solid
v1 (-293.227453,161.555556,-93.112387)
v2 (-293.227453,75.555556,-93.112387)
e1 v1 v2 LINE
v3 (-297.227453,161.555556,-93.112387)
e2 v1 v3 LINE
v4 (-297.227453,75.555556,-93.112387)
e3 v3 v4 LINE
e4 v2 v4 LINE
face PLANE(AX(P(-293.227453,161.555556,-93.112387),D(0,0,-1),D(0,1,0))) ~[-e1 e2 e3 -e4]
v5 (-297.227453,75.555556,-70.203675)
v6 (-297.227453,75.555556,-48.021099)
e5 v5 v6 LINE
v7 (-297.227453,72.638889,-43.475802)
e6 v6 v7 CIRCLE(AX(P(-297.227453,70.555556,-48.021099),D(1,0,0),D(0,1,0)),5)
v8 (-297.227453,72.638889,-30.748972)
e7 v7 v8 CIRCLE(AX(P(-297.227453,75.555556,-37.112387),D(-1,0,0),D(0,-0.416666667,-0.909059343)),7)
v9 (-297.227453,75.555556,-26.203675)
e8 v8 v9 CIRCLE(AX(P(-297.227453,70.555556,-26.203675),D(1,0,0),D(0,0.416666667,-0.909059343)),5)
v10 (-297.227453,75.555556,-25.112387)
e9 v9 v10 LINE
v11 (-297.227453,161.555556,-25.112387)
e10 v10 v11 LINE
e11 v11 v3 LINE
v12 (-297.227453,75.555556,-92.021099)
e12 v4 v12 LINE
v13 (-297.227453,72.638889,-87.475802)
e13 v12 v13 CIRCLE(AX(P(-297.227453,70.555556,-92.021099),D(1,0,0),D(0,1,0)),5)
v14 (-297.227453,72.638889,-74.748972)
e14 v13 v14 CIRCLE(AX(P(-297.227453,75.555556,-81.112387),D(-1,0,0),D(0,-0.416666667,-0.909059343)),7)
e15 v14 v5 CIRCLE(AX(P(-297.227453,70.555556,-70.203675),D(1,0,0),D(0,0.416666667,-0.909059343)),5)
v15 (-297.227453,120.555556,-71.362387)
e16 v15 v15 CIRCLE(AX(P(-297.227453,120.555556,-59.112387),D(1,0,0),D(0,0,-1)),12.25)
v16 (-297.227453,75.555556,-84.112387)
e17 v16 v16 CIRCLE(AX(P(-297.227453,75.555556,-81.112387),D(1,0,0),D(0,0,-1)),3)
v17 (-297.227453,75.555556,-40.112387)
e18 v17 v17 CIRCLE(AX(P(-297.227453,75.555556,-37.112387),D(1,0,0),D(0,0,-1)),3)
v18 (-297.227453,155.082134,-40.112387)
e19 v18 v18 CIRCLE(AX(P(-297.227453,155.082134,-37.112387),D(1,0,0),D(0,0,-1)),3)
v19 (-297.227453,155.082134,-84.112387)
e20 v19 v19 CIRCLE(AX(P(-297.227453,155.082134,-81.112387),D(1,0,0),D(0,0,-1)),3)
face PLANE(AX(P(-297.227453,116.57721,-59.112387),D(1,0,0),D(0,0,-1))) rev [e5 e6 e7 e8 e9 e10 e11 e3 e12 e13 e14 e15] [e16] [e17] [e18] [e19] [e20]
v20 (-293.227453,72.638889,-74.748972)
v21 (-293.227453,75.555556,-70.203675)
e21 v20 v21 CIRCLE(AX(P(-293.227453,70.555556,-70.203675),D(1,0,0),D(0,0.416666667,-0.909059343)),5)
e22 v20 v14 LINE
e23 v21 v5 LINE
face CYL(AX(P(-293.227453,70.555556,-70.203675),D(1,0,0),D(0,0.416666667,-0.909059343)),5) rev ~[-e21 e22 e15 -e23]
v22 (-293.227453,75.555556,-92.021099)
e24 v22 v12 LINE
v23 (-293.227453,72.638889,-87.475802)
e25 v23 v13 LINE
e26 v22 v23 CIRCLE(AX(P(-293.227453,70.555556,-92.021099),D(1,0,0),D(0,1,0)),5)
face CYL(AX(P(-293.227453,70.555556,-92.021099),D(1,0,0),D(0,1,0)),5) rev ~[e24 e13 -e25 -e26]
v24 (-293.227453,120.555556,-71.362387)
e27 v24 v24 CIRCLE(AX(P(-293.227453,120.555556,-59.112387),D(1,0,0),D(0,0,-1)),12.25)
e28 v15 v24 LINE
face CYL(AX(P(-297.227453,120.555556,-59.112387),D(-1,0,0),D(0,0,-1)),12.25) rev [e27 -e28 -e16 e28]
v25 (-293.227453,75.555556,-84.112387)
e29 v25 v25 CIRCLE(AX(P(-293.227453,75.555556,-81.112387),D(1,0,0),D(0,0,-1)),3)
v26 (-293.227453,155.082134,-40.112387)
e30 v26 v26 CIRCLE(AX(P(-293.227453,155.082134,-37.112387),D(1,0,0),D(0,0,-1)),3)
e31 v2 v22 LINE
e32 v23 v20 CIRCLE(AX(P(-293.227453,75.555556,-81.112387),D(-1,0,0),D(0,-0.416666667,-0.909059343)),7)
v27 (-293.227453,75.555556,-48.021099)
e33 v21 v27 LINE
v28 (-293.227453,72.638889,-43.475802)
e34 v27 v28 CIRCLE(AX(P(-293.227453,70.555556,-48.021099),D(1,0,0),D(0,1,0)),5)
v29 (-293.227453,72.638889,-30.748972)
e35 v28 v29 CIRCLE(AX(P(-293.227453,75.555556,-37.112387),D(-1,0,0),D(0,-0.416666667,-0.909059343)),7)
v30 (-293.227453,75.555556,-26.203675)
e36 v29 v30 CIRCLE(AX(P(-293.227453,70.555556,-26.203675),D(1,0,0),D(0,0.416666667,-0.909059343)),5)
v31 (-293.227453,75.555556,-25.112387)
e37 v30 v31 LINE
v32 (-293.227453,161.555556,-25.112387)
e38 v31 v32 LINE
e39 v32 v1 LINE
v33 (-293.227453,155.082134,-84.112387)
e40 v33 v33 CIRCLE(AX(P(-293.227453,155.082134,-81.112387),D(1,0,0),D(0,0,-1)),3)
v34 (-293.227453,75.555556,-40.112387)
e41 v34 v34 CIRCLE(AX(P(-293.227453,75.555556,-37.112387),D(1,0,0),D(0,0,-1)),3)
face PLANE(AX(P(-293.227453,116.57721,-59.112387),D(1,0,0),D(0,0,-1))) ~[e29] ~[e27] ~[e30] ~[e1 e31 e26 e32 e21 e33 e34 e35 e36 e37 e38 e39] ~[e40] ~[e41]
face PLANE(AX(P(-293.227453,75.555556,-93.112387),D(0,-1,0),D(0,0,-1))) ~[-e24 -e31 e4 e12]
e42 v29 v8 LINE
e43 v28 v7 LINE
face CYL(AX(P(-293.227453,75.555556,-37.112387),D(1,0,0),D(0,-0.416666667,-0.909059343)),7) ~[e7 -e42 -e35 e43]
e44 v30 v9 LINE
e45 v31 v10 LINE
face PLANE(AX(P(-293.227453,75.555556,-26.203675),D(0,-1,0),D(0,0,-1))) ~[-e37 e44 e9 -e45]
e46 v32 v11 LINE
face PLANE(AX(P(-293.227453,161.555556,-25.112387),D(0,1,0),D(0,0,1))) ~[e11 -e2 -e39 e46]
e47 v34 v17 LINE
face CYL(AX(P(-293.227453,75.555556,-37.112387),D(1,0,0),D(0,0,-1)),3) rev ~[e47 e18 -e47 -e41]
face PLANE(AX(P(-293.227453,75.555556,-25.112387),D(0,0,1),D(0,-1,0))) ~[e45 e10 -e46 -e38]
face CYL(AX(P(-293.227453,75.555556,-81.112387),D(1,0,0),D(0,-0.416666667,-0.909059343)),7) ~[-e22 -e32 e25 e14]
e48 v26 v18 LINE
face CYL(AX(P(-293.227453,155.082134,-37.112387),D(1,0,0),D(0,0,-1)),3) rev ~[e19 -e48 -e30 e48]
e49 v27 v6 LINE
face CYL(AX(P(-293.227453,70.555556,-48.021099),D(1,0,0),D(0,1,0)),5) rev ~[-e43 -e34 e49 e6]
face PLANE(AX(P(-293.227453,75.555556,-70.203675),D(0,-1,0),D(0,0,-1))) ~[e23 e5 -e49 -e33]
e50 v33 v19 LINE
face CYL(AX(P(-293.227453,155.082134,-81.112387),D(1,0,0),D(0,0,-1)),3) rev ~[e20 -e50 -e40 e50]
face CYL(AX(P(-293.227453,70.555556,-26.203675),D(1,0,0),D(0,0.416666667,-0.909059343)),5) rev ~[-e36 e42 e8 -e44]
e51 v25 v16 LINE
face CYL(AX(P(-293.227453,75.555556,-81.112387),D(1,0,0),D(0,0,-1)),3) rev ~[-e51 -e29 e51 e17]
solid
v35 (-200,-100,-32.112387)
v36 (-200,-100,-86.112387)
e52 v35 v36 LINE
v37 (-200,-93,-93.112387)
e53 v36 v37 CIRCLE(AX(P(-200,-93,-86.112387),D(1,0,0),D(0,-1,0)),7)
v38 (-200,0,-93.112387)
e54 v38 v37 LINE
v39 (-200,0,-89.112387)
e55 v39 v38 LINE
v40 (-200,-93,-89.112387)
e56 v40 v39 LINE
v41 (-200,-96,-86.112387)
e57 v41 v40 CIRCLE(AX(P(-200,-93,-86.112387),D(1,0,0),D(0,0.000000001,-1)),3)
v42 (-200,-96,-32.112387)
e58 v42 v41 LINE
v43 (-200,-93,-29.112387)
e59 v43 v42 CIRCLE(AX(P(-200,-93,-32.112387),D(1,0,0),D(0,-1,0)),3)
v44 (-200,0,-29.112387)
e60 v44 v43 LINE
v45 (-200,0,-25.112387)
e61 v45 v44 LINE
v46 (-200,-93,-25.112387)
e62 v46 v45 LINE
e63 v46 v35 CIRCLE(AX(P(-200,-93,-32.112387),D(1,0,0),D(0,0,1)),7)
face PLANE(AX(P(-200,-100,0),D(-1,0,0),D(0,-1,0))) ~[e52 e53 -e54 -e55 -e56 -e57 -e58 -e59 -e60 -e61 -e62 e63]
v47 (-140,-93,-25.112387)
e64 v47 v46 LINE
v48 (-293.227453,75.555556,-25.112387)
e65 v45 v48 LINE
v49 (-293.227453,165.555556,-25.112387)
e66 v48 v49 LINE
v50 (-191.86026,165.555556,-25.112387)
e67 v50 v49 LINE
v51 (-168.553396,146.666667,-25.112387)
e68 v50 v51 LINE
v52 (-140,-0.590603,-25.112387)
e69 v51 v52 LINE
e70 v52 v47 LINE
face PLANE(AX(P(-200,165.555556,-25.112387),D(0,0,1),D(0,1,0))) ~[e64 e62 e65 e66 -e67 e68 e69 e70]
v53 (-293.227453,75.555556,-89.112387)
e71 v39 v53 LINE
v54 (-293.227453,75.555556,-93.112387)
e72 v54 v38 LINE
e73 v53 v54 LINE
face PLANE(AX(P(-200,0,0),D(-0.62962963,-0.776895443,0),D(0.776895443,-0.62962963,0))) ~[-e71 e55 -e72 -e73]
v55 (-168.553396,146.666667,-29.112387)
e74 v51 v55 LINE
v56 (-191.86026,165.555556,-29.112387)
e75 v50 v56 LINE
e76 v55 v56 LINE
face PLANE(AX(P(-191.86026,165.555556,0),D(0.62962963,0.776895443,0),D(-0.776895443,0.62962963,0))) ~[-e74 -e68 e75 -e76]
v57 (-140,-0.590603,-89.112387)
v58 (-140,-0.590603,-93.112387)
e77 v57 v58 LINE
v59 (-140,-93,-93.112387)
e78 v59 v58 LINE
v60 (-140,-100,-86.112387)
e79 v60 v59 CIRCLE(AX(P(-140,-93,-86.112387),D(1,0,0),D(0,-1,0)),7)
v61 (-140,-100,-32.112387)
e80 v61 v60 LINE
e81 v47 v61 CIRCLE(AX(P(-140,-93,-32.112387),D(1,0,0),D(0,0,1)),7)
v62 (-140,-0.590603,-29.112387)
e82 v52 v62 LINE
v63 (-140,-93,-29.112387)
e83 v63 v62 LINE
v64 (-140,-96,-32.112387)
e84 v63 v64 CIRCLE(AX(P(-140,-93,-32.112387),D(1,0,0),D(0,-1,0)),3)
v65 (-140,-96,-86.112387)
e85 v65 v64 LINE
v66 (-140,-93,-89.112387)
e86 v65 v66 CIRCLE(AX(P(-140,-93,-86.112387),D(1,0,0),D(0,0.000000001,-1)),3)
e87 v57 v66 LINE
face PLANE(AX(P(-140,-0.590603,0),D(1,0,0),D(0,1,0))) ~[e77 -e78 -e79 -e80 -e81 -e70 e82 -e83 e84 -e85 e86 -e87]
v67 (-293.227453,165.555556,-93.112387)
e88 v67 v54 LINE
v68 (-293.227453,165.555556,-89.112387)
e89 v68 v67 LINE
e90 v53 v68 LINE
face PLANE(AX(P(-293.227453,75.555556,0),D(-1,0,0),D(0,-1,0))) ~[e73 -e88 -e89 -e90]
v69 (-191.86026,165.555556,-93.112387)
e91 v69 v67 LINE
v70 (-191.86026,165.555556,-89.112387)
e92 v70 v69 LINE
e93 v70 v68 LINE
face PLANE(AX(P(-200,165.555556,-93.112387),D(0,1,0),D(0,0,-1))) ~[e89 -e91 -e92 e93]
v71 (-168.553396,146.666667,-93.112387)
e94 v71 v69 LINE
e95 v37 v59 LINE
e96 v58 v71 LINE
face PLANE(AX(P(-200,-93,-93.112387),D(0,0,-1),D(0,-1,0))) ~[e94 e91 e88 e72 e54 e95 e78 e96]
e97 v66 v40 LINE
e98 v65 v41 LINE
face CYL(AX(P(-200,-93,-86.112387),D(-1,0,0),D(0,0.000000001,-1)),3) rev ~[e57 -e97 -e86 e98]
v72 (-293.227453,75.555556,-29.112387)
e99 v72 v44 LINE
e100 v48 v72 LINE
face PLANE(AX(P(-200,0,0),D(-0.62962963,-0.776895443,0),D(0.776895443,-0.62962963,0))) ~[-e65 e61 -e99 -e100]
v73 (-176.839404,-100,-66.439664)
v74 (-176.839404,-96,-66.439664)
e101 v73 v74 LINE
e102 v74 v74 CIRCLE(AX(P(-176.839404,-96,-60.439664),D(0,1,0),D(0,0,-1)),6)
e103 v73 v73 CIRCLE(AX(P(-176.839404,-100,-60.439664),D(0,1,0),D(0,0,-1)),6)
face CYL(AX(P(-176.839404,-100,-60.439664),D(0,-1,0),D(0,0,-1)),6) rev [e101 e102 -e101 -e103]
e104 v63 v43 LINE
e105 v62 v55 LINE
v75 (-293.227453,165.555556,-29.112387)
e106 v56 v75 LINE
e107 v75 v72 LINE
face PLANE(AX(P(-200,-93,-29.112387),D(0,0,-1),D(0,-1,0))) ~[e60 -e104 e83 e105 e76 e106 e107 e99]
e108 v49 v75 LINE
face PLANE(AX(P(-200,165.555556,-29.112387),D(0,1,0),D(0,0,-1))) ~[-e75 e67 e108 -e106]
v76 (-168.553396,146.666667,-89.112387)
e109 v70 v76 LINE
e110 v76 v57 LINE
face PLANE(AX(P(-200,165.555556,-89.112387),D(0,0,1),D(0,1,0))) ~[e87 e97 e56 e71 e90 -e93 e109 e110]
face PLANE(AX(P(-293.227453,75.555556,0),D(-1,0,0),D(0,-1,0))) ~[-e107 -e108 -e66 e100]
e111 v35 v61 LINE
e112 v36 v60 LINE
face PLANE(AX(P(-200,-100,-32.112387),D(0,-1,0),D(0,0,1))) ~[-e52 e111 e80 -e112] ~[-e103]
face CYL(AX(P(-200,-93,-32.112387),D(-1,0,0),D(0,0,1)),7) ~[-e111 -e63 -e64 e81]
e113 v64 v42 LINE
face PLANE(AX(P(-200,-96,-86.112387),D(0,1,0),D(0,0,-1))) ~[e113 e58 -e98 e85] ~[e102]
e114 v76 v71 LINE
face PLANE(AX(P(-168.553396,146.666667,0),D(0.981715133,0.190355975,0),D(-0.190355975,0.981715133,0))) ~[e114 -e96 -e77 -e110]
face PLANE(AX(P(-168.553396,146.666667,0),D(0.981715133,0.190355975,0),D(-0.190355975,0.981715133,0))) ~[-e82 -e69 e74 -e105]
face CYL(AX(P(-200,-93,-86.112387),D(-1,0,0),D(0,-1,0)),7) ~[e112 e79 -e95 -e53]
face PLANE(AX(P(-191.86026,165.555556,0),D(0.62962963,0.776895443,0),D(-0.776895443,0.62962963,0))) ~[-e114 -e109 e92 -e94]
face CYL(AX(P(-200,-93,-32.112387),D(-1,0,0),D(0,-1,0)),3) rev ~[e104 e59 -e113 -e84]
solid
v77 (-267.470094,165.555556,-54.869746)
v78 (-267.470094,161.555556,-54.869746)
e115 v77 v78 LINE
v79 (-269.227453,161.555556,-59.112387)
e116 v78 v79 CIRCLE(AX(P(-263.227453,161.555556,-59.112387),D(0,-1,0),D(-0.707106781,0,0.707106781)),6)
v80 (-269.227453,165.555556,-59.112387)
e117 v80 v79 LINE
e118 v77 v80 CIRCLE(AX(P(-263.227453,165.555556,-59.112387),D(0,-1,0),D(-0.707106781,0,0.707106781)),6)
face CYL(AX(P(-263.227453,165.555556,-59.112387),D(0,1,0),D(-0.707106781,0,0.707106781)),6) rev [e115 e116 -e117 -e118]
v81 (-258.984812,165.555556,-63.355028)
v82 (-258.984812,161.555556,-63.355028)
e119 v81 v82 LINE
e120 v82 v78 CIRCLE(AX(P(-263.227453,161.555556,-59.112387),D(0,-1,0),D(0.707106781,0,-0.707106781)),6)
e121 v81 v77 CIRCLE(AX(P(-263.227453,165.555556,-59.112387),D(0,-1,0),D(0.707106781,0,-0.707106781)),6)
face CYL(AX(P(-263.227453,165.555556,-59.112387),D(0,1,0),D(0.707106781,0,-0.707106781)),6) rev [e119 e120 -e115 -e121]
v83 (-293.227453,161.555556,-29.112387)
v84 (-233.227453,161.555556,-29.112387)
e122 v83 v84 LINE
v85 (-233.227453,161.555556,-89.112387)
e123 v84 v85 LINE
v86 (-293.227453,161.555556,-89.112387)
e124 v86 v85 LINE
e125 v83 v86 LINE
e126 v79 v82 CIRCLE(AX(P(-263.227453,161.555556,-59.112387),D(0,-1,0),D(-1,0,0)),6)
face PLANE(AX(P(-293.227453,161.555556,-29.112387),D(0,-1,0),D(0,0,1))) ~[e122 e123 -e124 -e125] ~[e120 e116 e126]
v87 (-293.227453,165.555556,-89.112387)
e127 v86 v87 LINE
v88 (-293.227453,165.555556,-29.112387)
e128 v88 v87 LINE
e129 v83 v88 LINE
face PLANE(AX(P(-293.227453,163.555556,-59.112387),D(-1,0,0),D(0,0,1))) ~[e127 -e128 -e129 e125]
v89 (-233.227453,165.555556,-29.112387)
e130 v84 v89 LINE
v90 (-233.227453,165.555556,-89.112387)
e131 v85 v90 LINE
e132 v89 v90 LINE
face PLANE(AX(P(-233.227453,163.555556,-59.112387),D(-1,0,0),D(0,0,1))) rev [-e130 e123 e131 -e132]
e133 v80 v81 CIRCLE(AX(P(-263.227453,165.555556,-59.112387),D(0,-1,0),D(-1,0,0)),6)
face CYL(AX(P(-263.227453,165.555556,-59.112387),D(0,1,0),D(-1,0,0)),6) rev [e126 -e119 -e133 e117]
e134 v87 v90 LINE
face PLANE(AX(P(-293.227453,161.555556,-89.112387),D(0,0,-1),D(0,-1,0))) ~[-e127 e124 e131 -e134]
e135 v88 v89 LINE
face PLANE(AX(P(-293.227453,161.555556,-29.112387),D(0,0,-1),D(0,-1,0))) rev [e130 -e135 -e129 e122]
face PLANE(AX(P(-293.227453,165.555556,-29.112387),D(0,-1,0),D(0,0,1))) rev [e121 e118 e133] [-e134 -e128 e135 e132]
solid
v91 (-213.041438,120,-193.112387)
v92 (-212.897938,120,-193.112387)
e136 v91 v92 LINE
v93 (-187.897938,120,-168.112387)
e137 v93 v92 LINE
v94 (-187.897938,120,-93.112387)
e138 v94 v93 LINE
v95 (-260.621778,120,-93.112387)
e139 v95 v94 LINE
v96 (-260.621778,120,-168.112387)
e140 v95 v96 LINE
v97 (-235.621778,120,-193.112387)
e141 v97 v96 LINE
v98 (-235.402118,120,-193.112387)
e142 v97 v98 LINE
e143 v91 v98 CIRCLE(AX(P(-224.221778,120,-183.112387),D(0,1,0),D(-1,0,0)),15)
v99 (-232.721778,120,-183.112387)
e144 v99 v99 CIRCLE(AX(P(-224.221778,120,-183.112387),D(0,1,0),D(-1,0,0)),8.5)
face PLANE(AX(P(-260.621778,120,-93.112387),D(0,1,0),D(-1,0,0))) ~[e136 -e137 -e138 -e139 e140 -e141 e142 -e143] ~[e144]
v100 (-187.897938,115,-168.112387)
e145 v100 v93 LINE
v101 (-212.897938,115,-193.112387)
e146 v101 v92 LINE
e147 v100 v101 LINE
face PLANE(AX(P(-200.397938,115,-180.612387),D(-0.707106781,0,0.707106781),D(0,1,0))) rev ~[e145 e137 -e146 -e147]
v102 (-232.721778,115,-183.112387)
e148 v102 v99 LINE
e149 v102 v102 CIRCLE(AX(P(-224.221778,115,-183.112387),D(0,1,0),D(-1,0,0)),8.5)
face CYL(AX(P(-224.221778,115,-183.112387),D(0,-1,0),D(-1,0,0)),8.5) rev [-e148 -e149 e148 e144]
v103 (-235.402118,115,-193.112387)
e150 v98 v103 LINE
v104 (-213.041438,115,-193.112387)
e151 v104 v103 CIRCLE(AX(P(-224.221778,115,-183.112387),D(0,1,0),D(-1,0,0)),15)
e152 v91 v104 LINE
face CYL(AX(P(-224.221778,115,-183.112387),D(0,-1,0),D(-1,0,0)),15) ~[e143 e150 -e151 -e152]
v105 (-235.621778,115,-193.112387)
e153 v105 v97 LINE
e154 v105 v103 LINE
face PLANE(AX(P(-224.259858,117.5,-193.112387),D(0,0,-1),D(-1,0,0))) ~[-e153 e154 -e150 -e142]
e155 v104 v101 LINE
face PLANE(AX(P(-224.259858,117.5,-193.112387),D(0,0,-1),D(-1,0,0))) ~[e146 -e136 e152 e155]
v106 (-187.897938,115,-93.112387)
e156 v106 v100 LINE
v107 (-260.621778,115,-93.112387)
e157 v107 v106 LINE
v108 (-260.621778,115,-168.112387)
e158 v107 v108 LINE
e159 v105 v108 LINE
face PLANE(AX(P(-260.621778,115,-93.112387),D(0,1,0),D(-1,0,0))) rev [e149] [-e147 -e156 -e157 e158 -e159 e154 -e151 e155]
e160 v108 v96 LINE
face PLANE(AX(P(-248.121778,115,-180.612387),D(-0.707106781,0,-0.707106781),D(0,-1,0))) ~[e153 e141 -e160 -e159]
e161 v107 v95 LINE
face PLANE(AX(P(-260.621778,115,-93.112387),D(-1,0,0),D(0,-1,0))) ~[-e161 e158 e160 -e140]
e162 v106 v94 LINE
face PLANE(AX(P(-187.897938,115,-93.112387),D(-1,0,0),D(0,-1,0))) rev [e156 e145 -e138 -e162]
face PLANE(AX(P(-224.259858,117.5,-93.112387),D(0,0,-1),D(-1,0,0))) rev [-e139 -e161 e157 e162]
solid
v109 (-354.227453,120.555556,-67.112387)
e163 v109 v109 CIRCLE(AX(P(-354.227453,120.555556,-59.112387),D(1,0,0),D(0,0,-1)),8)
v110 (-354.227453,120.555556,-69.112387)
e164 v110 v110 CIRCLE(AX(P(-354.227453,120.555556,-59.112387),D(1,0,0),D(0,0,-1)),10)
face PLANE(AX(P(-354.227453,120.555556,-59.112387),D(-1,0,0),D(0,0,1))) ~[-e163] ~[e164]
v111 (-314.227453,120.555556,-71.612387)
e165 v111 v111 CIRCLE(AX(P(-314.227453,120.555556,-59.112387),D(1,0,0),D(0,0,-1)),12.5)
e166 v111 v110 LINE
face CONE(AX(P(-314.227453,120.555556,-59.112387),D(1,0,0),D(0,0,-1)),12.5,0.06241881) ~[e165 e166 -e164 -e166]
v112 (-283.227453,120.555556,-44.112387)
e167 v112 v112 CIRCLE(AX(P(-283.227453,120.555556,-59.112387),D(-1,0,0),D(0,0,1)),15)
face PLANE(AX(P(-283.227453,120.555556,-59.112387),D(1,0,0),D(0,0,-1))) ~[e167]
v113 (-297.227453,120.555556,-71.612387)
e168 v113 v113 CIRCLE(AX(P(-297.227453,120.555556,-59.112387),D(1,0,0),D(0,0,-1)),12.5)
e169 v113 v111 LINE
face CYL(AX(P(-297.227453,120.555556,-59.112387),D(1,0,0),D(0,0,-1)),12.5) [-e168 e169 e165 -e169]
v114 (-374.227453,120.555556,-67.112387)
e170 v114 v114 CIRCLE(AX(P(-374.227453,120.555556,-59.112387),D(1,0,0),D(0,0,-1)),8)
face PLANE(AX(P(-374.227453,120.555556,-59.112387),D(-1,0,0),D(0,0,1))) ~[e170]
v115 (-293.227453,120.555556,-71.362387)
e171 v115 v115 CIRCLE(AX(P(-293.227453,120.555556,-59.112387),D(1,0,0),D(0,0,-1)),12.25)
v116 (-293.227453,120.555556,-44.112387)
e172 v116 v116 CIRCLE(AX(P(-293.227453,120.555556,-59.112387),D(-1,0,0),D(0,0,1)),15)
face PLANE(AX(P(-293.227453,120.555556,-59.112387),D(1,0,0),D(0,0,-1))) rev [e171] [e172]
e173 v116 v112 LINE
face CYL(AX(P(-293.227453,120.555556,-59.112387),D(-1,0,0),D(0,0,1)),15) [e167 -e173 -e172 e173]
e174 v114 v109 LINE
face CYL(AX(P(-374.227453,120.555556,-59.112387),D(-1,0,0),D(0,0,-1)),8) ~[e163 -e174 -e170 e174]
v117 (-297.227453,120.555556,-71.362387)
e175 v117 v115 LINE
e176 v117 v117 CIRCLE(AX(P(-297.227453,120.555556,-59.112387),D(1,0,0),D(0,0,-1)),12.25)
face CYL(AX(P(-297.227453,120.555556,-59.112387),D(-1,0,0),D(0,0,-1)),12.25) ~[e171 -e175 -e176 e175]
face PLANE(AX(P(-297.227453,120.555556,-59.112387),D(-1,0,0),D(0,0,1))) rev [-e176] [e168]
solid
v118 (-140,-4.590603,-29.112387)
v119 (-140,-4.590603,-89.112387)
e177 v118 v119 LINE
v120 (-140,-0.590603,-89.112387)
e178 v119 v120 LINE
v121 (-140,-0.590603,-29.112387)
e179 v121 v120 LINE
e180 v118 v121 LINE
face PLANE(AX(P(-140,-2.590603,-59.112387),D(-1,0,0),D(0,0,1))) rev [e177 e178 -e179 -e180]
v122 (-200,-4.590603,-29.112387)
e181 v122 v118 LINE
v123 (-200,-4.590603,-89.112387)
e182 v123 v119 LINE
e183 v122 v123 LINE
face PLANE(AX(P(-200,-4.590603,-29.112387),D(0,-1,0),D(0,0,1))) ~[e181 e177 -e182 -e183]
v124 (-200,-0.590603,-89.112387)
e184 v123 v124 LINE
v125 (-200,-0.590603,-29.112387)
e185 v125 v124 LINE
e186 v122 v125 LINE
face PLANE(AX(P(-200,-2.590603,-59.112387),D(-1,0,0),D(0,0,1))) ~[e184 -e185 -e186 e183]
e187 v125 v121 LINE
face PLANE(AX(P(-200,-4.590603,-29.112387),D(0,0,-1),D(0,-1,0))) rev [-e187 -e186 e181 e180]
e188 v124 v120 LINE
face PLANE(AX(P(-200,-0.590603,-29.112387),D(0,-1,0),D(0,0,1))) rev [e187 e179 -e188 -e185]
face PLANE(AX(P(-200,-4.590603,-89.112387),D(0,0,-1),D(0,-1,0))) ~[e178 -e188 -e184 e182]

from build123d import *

# Parameters (mm, degrees)
BOSS_EXTRUDE2_DEPTH  = 107
CUT_EXTRUDE1_DEPTH   = 214
SKETCH5_W            = 60
SKETCH5_H            = 4
BOSS_EXTRUDE3_DEPTH  = 60
SKETCH6_W            = 60
SKETCH6_H            = 4
BOSS_EXTRUDE4_DEPTH  = 60
SKETCH7_R            = 3
BOSS_EXTRUDE5_DEPTH  = 4
SKETCH8_W            = 72.723840611
SKETCH8_H            = 5
BOSS_EXTRUDE6_DEPTH  = 100
CHAMFER1_SIZE        = 25
CHAMFER2_SIZE        = 25
SKETCH9_R            = 15
BOSS_EXTRUDE7_DEPTH  = 5
SKETCH10_R           = 12.25
CUT_EXTRUDE2_DEPTH   = 4
CUT_EXTRUDE5_DEPTH   = 8
SKETCH13_R           = 6
CUT_EXTRUDE6_DEPTH   = 10
SKETCH15_R           = 15
BOSS_EXTRUDE8_DEPTH  = 10
SKETCH16_R           = 12.25
BOSS_EXTRUDE9_DEPTH  = 10
SKETCH17_R           = 12.5
BOSS_EXTRUDE10_DEPTH = 77
SKETCH18_R           = 12.5
SKETCH18_R_2         = 8
CUT_EXTRUDE7_DEPTH   = 20
CHAMFER3_SIZE        = 40
CHAMFER3_SIZE2       = 2.5
SKETCH19_R           = 8.5
CUT_EXTRUDE8_DEPTH   = 20


with BuildPart() as part:
    # Sketch3 → Boss-Extrude2 (new, symmetric)
    with BuildSketch(Plane(origin=(0, 0, 0), x_dir=(0, 0, -1), z_dir=(1, 0, 0))):
        with BuildLine():
            Line((93.112387021, -93), (93.112387021, 165.555555556))
            Line((93.112387021, 165.555555556), (89.112387021, 165.555555556))
            Line((89.112387021, 165.555555556), (89.112387021, -93))
            ThreePointArc((89.112387021, -93), (88.233707365, -95.121320344), (86.112387021, -96))
            Line((86.112387021, -96), (32.112387021, -96))
            ThreePointArc((32.112387021, -96), (29.991066678, -95.121320344), (29.112387021, -93))
            Line((29.112387021, -93), (29.112387021, 165.555555556))
            Line((29.112387021, 165.555555556), (25.112387021, 165.555555556))
            Line((25.112387021, 165.555555556), (25.112387021, -93))
            ThreePointArc((25.112387021, -93), (27.162639553, -97.949747468), (32.112387021, -100))
            Line((32.112387021, -100), (86.112387021, -100))
            ThreePointArc((86.112387021, -100), (91.06213449, -97.949747468), (93.112387021, -93))
        make_face()
    extrude(amount=BOSS_EXTRUDE2_DEPTH, both=True)

    # Sketch4 → Cut-Extrude1 (cut)
    with BuildSketch(Plane.XY):
        Polygon((-190, 11.896699378), (-190, -230), (130, -230), (130, -61.975068301), (223.227453171, 13.580487255), (223.227453171, 295.555555556), (-54.204269584, 295.555555556), (-150.061773181, 217.868493514), align=None)
        Polygon((-60, -0.59060332), (-60, -100), (0, -100), (0, 0), (93.227453171, 75.555555556), (93.227453171, 165.555555556), (-8.139740481, 165.555555556), (-31.446603774, 146.666666667), align=None, mode=Mode.SUBTRACT)
    extrude(amount=-CUT_EXTRUDE1_DEPTH, mode=Mode.SUBTRACT)

    # Sketch13 → Cut-Extrude6 (cut)
    with BuildSketch(Plane.XZ.offset(100)):
        with Locations(Location((-23.160596036, -60.439663785, 0), (0, 0, 270))):
            Circle(SKETCH13_R)
    extrude(amount=-CUT_EXTRUDE6_DEPTH, mode=Mode.SUBTRACT)


with BuildPart() as body_2:
    # Sketch5 → Boss-Extrude3 (new body)
    with BuildSketch(Plane(origin=(0, 0, 0), x_dir=(0, 0, -1), z_dir=(1, 0, 0))):
        with Locations((59.112387021, -2.59060332)):
            Rectangle(SKETCH5_W, SKETCH5_H)
    extrude(amount=-BOSS_EXTRUDE3_DEPTH)


with BuildPart() as body_3:
    # Sketch6 → Boss-Extrude4 (new body)
    with BuildSketch(Plane(origin=(93.227453171, 0, 0), x_dir=(0, 0, -1), z_dir=(1, 0, 0))):
        with Locations((59.112387021, 163.555555556)):
            Rectangle(SKETCH6_W, SKETCH6_H)
    extrude(amount=-BOSS_EXTRUDE4_DEPTH)

    # Sketch12 → Cut-Extrude5 (cut)
    with BuildSketch(Plane(origin=(0, 165.555555556, 0), x_dir=(1, 0, 0), z_dir=(0, 1, 0))):
        with BuildLine():
            ThreePointArc((69.227453171, 59.112387021), (65.523553765, 64.655664216), (58.984812484, 63.355027708))
            Line((58.984812484, 63.355027708), (67.470093858, 54.869746334))
            ThreePointArc((67.470093858, 54.869746334), (68.770730366, 56.816286427), (69.227453171, 59.112387021))
        make_face()
        with BuildLine():
            Line((67.470093858, 54.869746334), (58.984812484, 63.355027708))
            ThreePointArc((58.984812484, 63.355027708), (58.984812484, 54.869746334), (67.470093858, 54.869746334))
        make_face()
    extrude(amount=-CUT_EXTRUDE5_DEPTH, mode=Mode.SUBTRACT)


with BuildPart() as body_4:
    # Sketch7 → Boss-Extrude5 (new body)
    with BuildSketch(Plane(origin=(93.227453171, 0, 0), x_dir=(0, 0, -1), z_dir=(1, 0, 0))):
        with BuildLine():
            Line((25.112387021, 161.555555556), (93.112387021, 161.555555556))
            Line((93.112387021, 161.555555556), (93.112387021, 75.555555556))
            Line((93.112387021, 75.555555556), (92.021099136, 75.555555556))
            ThreePointArc((92.021099136, 75.555555556), (89.320790512, 74.763682613), (87.475802422, 72.638888889))
            ThreePointArc((87.475802422, 72.638888889), (81.112387021, 68.555555556), (74.748971621, 72.638888889))
            ThreePointArc((74.748971621, 72.638888889), (72.903983531, 74.763682613), (70.203674907, 75.555555556))
            Line((70.203674907, 75.555555556), (48.021099136, 75.555555556))
            ThreePointArc((48.021099136, 75.555555556), (45.320790512, 74.763682613), (43.475802422, 72.638888889))
            ThreePointArc((43.475802422, 72.638888889), (37.112387021, 68.555555556), (30.748971621, 72.638888889))
            ThreePointArc((30.748971621, 72.638888889), (28.903983531, 74.763682613), (26.203674907, 75.555555556))
            Line((26.203674907, 75.555555556), (25.112387021, 75.555555556))
            Line((25.112387021, 75.555555556), (25.112387021, 161.555555556))
        make_face()
        with Locations((37.112387021, 155.082134103)):
            Circle(SKETCH7_R, mode=Mode.SUBTRACT)
        with Locations((81.112387021, 155.082134103)):
            Circle(SKETCH7_R, mode=Mode.SUBTRACT)
        with Locations((37.112387021, 75.555555556)):
            Circle(SKETCH7_R, mode=Mode.SUBTRACT)
        with Locations((81.112387021, 75.555555556)):
            Circle(SKETCH7_R, mode=Mode.SUBTRACT)
    extrude(amount=BOSS_EXTRUDE5_DEPTH)

    # Sketch10 → Cut-Extrude2 (cut)
    with BuildSketch(Plane(origin=(97.227453171, 0, 0), x_dir=(0, 0, -1), z_dir=(1, 0, 0))):
        with Locations((59.112387021, 120.555555556)):
            Circle(SKETCH10_R)
    extrude(amount=-CUT_EXTRUDE2_DEPTH, mode=Mode.SUBTRACT)


with BuildPart() as body_5:
    # Sketch8 → Boss-Extrude6 (new body)
    with BuildSketch(Plane(origin=(0, 0, -93.112387021), x_dir=(-1, 0, 0), z_dir=(0, 0, -1))):
        with Locations((-24.25985796, 117.5)):
            Rectangle(SKETCH8_W, SKETCH8_H)
    extrude(amount=BOSS_EXTRUDE6_DEPTH)

    # Chamfer1
    chamfer1_edges = [body_5.edges().sort_by_distance(p)[0] for p in [
        (-12.102062346, 117.5, -193.112387021),
    ]]
    chamfer(chamfer1_edges, length=CHAMFER1_SIZE)

    # Chamfer2
    chamfer2_edges = [body_5.edges().sort_by_distance(p)[0] for p in [
        (60.621778265, 117.5, -193.112387021),
    ]]
    chamfer(chamfer2_edges, length=CHAMFER2_SIZE)

    # Sketch9 → Boss-Extrude7 (add)
    with BuildSketch(Plane.XZ.offset(-115)):
        with Locations((24.221778265, -183.112387021)):
            Circle(SKETCH9_R)
    extrude(amount=-BOSS_EXTRUDE7_DEPTH)

    # Sketch19 → Cut-Extrude8 (cut)
    with BuildSketch(Plane.XZ.offset(-115)):
        with Locations((24.221778265, -183.112387021)):
            Circle(SKETCH19_R)
    extrude(amount=-CUT_EXTRUDE8_DEPTH, mode=Mode.SUBTRACT)


with BuildPart() as body_6:
    # Sketch15 → Boss-Extrude8 (new body)
    with BuildSketch(Plane.ZY.offset(-93.227453171)):
        with Locations((-59.112387021, 120.555555556)):
            Circle(SKETCH15_R)
    extrude(amount=BOSS_EXTRUDE8_DEPTH)


with BuildPart() as body_7:
    # Sketch16 → Boss-Extrude9 (new body)
    with BuildSketch(Plane(origin=(97.227453171, 0, 0), x_dir=(0, 0, -1), z_dir=(1, 0, 0))):
        with Locations((59.112387021, 120.555555556)):
            Circle(SKETCH16_R)
    extrude(amount=-BOSS_EXTRUDE9_DEPTH)


with BuildPart() as body_8:
    # Sketch17 → Boss-Extrude10 (new body)
    with BuildSketch(Plane(origin=(97.227453171, 0, 0), x_dir=(0, 0, -1), z_dir=(1, 0, 0))):
        with Locations((59.112387021, 120.555555556)):
            Circle(SKETCH17_R)
    extrude(amount=BOSS_EXTRUDE10_DEPTH)

    # Sketch18 → Cut-Extrude7 (cut)
    with BuildSketch(Plane(origin=(174.227453171, 0, 0), x_dir=(0, 0, -1), z_dir=(1, 0, 0))):
        with Locations((59.112387021, 120.555555556)):
            Circle(SKETCH18_R)
        with Locations((59.112387021, 120.555555556)):
            Circle(SKETCH18_R_2, mode=Mode.SUBTRACT)
    extrude(amount=-CUT_EXTRUDE7_DEPTH, mode=Mode.SUBTRACT)

    # Chamfer3
    chamfer3_edges = [body_8.edges().sort_by_distance(p)[0] for p in [
        (154.227453171, 120.555555556, -46.612387021),
    ]]
    chamfer3_side = [body_8.faces().sort_by_distance(p)[0] for p in [
        (125.727453171, 120.555555556, -46.612387021),
    ]]
    chamfer(chamfer3_edges, length=CHAMFER3_SIZE, length2=CHAMFER3_SIZE2, reference=chamfer3_side[0])

    # Combine1: union body 7, body 6
    add(body_7.part)
    add(body_6.part)


with BuildPart() as body_7_2:
    # Mirror1: mirrored copy
    add(body_3.part.mirror(Plane(origin=(-100, 0, 0), x_dir=(0, 0, 1), z_dir=(1, 0, 0))))


with BuildPart() as body_8_2:
    # Mirror1 2: mirrored copy
    add(part.part.mirror(Plane(origin=(-100, 0, 0), x_dir=(0, 0, 1), z_dir=(1, 0, 0))))


with BuildPart() as body_9:
    # Mirror1 3: mirrored copy
    add(body_2.part.mirror(Plane(origin=(-100, 0, 0), x_dir=(0, 0, 1), z_dir=(1, 0, 0))))


with BuildPart() as body_10:
    # Mirror1 4: mirrored copy
    add(body_8.part.mirror(Plane(origin=(-100, 0, 0), x_dir=(0, 0, 1), z_dir=(1, 0, 0))))


with BuildPart() as body_11:
    # Mirror1 5: mirrored copy
    add(body_5.part.mirror(Plane(origin=(-100, 0, 0), x_dir=(0, 0, 1), z_dir=(1, 0, 0))))


with BuildPart() as body_12:
    # Mirror1 6: mirrored copy
    add(body_4.part.mirror(Plane(origin=(-100, 0, 0), x_dir=(0, 0, 1), z_dir=(1, 0, 0))))


solid = Compound([body_7_2.part, body_8_2.part, body_9.part, body_10.part, body_11.part, body_12.part])
